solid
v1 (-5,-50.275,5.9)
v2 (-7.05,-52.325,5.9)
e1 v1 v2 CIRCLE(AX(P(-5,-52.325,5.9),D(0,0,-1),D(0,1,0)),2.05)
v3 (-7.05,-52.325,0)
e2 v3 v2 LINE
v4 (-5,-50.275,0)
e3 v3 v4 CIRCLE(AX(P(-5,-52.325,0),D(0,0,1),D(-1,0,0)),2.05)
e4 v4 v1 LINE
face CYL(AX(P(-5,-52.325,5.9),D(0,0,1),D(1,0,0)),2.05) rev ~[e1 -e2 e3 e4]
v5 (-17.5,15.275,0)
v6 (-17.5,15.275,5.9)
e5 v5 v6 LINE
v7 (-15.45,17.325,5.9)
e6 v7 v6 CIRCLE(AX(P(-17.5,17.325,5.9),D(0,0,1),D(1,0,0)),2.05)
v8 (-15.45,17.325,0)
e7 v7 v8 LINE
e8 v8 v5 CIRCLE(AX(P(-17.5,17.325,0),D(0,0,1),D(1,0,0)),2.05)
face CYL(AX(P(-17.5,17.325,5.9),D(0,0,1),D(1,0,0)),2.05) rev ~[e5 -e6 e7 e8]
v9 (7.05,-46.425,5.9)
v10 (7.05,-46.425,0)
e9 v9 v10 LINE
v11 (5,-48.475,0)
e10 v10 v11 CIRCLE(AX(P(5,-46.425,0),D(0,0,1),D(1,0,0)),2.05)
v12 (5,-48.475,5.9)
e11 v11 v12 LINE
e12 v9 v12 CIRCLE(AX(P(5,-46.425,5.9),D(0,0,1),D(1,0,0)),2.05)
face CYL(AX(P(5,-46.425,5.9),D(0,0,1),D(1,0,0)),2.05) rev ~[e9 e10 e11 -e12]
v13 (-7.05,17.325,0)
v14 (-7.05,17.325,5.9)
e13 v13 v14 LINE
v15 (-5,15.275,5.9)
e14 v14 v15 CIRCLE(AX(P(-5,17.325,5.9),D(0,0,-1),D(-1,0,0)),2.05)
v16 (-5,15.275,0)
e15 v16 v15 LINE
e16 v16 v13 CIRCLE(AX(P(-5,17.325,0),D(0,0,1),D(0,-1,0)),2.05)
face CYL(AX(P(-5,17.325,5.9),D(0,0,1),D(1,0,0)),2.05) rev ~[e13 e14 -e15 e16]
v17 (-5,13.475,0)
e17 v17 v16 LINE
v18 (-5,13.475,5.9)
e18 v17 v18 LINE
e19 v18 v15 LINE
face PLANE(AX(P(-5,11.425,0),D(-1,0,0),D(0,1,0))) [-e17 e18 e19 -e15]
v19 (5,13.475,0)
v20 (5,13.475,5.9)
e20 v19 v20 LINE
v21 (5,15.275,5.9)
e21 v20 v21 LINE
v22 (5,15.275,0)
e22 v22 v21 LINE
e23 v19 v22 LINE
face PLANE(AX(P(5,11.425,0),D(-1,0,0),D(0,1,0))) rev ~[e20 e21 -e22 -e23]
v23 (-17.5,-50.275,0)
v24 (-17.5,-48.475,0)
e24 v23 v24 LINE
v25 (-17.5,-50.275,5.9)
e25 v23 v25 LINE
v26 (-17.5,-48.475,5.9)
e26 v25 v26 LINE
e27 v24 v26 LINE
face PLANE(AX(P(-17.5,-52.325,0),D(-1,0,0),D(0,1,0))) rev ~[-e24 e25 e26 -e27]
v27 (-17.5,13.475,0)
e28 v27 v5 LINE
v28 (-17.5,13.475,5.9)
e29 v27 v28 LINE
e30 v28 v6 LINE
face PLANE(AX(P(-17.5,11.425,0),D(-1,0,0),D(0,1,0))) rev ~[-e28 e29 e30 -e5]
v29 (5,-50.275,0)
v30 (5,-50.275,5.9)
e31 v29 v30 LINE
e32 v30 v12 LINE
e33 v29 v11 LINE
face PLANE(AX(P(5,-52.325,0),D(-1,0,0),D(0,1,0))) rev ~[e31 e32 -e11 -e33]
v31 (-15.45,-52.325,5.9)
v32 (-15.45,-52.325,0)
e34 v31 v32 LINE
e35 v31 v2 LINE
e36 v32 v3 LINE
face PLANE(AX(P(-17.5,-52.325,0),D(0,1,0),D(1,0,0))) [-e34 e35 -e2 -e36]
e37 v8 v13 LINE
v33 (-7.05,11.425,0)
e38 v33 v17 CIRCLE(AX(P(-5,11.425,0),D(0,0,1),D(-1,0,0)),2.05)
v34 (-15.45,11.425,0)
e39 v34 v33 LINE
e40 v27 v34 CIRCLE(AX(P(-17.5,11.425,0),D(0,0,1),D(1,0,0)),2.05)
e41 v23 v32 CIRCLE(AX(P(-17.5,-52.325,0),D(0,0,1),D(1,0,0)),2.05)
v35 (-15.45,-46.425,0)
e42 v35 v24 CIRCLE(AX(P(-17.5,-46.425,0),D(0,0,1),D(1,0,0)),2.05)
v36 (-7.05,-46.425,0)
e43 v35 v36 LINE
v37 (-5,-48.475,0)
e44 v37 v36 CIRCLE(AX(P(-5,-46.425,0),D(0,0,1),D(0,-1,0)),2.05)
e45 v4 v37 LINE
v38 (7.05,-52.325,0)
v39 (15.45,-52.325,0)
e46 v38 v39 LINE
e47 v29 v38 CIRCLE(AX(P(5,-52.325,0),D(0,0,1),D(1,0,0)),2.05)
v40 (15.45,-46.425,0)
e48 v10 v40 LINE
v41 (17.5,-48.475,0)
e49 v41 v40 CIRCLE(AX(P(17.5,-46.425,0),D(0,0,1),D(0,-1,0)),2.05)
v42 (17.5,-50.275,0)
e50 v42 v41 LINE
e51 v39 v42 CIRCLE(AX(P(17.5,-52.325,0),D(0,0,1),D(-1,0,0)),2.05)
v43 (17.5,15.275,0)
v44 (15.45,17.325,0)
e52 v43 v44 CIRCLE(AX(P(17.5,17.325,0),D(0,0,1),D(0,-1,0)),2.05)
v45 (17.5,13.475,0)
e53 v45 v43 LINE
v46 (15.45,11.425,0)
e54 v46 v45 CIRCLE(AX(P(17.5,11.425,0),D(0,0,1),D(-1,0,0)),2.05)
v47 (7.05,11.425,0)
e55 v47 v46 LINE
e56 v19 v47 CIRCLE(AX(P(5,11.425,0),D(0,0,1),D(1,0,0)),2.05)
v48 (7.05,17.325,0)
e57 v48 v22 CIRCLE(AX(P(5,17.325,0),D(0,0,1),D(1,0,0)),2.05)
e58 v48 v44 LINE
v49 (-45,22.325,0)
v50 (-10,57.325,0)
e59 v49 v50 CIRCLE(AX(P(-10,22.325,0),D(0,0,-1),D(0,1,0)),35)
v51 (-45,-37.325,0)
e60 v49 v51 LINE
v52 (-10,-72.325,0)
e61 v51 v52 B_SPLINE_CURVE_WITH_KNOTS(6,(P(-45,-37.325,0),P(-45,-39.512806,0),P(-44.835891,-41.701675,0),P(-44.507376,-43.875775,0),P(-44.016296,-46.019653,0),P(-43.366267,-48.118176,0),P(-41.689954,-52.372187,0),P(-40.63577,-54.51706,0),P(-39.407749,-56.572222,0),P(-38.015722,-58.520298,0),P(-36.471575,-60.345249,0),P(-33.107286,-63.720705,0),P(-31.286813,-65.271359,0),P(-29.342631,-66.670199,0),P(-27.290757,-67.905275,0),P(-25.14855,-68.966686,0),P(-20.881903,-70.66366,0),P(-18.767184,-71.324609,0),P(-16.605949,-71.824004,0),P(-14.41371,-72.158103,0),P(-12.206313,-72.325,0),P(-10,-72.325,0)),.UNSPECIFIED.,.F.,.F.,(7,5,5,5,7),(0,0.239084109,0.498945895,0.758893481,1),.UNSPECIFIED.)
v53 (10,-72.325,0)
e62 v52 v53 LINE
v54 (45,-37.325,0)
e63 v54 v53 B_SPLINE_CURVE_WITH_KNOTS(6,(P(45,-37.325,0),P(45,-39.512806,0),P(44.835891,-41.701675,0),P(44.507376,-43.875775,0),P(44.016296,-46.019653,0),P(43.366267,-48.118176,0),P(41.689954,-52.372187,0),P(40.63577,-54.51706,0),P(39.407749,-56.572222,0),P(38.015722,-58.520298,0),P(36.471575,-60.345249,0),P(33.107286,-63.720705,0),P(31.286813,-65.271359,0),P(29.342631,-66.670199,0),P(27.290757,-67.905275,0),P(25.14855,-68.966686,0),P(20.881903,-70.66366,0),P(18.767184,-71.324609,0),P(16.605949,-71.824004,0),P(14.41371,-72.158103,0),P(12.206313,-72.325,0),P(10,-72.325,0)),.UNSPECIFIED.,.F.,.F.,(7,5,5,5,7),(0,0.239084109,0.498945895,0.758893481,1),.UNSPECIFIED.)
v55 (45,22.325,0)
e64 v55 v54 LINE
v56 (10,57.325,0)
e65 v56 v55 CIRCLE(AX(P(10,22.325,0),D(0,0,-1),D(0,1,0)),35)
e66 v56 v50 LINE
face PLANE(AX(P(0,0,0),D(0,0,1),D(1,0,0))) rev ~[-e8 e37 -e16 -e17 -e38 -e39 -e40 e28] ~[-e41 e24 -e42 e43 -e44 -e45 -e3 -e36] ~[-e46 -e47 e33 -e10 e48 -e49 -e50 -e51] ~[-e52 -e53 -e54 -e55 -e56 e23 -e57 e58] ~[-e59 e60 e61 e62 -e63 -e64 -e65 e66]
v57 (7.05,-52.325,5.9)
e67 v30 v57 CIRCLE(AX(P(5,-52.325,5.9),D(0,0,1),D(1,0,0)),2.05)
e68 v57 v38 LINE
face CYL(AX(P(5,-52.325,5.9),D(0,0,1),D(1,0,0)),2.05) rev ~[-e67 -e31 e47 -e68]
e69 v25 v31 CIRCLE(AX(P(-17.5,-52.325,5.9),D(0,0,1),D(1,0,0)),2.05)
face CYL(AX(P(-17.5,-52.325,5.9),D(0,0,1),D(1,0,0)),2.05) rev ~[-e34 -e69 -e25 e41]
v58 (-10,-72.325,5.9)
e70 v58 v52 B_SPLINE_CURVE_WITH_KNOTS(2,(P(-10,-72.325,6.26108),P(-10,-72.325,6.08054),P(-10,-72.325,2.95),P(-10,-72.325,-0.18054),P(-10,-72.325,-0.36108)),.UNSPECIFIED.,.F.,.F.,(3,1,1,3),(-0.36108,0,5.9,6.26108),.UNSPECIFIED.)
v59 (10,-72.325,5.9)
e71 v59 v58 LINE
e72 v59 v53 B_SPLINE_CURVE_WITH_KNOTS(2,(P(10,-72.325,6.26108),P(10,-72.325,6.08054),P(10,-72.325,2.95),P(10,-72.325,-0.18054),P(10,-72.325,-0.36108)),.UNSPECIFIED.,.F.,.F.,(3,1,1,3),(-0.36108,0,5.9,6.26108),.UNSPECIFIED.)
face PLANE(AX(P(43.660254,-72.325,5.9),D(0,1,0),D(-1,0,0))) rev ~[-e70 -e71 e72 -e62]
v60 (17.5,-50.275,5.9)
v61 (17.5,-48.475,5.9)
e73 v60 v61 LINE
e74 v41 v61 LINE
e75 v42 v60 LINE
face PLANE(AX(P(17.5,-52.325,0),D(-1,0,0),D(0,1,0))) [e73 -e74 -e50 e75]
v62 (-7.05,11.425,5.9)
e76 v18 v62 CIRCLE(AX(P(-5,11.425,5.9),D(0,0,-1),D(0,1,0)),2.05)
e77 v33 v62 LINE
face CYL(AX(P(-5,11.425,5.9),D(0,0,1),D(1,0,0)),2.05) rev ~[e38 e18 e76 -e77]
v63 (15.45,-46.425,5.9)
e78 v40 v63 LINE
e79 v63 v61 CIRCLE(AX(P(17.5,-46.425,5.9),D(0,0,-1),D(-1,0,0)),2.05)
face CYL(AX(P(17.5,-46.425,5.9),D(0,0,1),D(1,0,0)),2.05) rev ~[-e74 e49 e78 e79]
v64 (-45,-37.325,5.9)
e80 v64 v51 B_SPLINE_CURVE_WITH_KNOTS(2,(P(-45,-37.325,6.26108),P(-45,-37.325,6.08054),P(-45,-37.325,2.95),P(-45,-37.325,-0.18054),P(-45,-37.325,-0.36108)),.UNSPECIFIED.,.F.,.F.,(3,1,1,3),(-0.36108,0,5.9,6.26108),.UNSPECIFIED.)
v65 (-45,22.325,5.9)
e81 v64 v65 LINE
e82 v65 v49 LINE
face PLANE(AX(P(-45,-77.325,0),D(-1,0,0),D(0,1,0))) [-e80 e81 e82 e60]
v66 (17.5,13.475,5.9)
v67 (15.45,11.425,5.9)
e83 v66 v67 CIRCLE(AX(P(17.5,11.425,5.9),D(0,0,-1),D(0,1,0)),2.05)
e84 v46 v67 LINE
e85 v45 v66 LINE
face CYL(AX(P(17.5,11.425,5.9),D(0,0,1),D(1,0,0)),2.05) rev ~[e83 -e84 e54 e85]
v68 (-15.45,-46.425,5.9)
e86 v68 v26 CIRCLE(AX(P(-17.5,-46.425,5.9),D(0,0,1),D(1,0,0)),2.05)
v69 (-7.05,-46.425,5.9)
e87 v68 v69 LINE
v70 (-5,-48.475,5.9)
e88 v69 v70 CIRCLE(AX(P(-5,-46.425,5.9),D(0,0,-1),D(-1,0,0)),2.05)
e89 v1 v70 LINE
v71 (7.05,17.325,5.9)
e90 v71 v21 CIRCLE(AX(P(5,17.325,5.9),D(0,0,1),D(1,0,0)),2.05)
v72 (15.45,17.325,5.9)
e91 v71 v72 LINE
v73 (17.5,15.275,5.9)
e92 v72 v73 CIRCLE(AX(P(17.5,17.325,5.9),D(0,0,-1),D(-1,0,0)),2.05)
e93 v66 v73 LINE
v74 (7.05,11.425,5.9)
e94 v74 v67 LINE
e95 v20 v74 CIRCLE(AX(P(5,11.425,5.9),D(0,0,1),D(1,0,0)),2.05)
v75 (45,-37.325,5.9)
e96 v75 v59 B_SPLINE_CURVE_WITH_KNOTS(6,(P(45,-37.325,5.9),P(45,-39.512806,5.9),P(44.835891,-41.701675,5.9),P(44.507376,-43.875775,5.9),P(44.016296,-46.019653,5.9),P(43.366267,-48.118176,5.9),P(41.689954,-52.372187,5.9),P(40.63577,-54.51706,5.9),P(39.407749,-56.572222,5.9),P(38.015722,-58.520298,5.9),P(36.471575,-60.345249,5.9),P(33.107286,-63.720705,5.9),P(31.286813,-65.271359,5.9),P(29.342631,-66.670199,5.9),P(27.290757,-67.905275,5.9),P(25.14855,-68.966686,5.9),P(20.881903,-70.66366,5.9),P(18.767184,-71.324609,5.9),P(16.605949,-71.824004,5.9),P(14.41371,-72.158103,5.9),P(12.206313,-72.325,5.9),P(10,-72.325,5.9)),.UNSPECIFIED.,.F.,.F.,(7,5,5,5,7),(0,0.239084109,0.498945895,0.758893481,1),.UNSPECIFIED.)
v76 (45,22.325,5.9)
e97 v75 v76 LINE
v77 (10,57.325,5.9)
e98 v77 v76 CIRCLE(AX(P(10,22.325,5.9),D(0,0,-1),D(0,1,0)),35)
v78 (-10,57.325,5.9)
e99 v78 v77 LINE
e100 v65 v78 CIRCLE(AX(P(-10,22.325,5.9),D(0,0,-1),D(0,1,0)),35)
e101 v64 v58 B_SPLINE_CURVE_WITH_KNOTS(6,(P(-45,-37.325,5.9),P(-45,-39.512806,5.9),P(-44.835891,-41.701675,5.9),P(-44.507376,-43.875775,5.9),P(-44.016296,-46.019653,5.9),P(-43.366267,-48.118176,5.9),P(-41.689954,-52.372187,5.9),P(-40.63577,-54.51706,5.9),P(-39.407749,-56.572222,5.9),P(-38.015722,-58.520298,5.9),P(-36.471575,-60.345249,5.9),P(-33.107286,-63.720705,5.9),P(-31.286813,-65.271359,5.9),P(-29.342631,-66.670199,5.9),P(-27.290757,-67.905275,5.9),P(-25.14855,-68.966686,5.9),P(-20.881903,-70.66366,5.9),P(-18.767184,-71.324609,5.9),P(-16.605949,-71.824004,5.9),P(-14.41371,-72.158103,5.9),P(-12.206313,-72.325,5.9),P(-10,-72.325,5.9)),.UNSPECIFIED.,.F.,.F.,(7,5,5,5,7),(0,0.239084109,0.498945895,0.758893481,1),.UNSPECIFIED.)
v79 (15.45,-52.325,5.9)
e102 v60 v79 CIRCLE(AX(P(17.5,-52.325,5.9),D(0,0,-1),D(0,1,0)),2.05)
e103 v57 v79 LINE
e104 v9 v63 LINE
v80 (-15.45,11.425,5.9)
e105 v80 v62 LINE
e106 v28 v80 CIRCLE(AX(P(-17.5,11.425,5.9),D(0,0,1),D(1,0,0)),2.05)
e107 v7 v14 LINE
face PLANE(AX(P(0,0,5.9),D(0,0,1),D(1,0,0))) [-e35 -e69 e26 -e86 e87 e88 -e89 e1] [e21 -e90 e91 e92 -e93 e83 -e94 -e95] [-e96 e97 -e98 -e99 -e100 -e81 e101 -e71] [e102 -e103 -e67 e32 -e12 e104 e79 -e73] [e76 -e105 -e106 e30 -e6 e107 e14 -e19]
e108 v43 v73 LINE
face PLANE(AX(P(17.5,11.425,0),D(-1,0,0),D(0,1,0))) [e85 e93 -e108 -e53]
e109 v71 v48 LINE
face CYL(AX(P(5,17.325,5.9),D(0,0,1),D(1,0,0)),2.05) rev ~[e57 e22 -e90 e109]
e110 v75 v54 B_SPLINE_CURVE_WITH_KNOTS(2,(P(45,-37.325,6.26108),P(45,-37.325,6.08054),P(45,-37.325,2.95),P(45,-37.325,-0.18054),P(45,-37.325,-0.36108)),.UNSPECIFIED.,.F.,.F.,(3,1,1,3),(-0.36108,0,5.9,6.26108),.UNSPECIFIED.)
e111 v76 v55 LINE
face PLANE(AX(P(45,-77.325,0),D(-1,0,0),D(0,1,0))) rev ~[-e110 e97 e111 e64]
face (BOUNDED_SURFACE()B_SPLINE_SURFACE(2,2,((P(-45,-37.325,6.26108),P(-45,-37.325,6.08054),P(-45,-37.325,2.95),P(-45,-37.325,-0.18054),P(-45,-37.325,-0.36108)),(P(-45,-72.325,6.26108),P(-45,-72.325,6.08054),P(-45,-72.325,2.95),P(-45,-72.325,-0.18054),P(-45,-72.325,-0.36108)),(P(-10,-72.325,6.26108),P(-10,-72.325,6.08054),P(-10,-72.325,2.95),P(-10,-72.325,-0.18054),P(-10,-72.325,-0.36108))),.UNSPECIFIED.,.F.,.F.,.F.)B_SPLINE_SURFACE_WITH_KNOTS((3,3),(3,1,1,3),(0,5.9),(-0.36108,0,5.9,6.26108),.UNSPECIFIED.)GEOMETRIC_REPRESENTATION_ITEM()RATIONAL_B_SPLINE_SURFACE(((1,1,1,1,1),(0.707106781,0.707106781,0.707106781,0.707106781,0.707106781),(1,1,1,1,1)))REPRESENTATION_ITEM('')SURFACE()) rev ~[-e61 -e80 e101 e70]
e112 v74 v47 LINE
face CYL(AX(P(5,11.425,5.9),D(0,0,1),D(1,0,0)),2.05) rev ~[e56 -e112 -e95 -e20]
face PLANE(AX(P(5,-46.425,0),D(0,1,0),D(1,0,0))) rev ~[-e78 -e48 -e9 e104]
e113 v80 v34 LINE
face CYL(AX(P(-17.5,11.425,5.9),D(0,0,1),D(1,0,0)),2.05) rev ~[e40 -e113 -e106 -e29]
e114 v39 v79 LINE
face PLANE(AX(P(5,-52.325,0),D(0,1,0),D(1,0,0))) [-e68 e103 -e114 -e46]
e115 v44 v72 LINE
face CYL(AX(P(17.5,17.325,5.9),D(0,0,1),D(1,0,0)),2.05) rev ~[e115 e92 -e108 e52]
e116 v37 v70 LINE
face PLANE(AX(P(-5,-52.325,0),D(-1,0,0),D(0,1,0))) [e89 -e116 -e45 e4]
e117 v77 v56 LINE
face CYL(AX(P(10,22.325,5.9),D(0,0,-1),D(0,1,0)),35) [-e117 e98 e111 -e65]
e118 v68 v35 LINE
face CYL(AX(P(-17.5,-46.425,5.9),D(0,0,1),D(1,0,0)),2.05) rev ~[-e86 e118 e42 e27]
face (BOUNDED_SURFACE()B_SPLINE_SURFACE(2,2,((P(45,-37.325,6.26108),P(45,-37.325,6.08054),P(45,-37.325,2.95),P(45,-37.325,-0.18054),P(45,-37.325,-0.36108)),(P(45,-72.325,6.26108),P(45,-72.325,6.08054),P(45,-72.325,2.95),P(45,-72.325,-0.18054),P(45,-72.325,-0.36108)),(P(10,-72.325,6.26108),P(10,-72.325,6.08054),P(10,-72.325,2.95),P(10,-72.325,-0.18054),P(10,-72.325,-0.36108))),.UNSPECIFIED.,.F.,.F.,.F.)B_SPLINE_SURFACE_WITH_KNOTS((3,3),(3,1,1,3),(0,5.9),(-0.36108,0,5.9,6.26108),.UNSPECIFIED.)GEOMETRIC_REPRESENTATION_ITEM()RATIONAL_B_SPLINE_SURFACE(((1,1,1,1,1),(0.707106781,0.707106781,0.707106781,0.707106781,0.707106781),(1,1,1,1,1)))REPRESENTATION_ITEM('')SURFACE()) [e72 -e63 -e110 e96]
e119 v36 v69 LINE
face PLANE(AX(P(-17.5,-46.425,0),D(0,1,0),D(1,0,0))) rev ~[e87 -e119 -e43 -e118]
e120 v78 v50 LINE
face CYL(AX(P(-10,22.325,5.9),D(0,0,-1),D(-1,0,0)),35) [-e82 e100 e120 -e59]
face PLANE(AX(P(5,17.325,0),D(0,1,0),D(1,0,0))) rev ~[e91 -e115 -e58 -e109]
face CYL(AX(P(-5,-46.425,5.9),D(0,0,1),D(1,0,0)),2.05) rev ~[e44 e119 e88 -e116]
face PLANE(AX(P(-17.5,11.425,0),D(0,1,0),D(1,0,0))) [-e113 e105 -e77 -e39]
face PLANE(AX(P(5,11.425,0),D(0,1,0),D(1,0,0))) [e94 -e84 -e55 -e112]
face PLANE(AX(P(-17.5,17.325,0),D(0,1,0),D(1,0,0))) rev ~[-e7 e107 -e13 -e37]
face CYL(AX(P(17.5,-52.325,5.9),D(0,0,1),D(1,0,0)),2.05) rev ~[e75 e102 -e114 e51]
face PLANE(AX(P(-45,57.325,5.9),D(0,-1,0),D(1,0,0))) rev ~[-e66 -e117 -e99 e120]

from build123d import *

# Parameters (mm, degrees)
SKETCH1_W           = 90
SKETCH1_H           = 154.65
SKETCH1_W_2         = 12.5
SKETCH1_H_2         = 5.9
BOSS_EXTRUDE1_DEPTH = 5.9
FILLET2_R           = 10
BOSS_EXTRUDE2_DEPTH = 5.9
CUT_EXTRUDE1_REACH  = 7.9
SKETCH5_R           = 2.05
CUT_EXTRUDE4_REACH  = 7.9
FILLET3_R           = 35


with BuildPart() as part:
    # Sketch1 → Boss-Extrude1 (new body)
    with BuildSketch(Plane.XY):
        Rectangle(SKETCH1_W, SKETCH1_H)
        with Locations((-11.25, 14.375)):
            Rectangle(SKETCH1_W_2, SKETCH1_H_2, mode=Mode.SUBTRACT)
        with Locations((11.25, 14.375)):
            Rectangle(SKETCH1_W_2, SKETCH1_H_2, mode=Mode.SUBTRACT)
        with Locations((11.25, -49.375)):
            Rectangle(SKETCH1_W_2, SKETCH1_H_2, mode=Mode.SUBTRACT)
        with Locations((-11.25, -49.375)):
            Rectangle(SKETCH1_W_2, SKETCH1_H_2, mode=Mode.SUBTRACT)
    extrude(amount=BOSS_EXTRUDE1_DEPTH)

    # Fillet2
    fillet2_edges = [part.edges().sort_by_distance(p)[0] for p in [
        (45, -77.325, 2.95),
        (-45, -77.325, 2.95),
        (-45, 77.325, 2.95),
        (45, 77.325, 2.95),
    ]]
    fillet(fillet2_edges, radius=FILLET2_R)

    # Sketch2 → Boss-Extrude2 (add)
    with BuildSketch(Plane.XY.offset(5.9)):
        Polygon((24.6, -77.325), (-24.6, -77.325), (-10, -90.939292058), (-10, -103.239292058), (-4.5, -119.325), (4.5, -119.325), (10, -103.239292058), (10, -90.939292058), align=None)
        with BuildLine():
            Line((-45, 67.325), (-45, 53.482347581))
            Line((-45, 53.482347581), (0, 77.325))
            ThreePointArc((0, 77.325), (-4.9039074, 78.609973195), (-8.547536888, 82.134661558))
            Line((-8.547536888, 82.134661558), (-15.653395136, 93.836708769))
            Line((-15.653395136, 93.836708769), (-36.605205168, 117.74389141))
            Line((-36.605205168, 117.74389141), (-44.297988367, 113.072586812))
            Line((-44.297988367, 113.072586812), (-38.587949383, 93.072586812))
            Line((-38.587949383, 93.072586812), (-31.970396029, 80.241759725))
            ThreePointArc((-31.970396029, 80.241759725), (-32.040056415, 78.284211705), (-33.747908787, 77.325))
            Line((-33.747908787, 77.325), (-35, 77.325))
            ThreePointArc((-35, 77.325), (-42.071067812, 74.396067812), (-45, 67.325))
        make_face()
        with BuildLine():
            ThreePointArc((8.547536888, 82.134661558), (4.9039074, 78.609973195), (0, 77.325))
            Line((0, 77.325), (45, 53.482347581))
            Line((45, 53.482347581), (45, 67.325))
            ThreePointArc((45, 67.325), (42.071067812, 74.396067812), (35, 77.325))
            Line((35, 77.325), (33.747908787, 77.325))
            ThreePointArc((33.747908787, 77.325), (32.040056415, 78.284211705), (31.970396029, 80.241759725))
            Line((31.970396029, 80.241759725), (38.587949383, 93.072586812))
            Line((38.587949383, 93.072586812), (44.297988367, 113.072586812))
            Line((44.297988367, 113.072586812), (36.605205168, 117.74389141))
            Line((36.605205168, 117.74389141), (15.653395136, 93.836708769))
            Line((15.653395136, 93.836708769), (8.547536888, 82.134661558))
        make_face()
    extrude(amount=-BOSS_EXTRUDE2_DEPTH)

    # Sketch5 → Cut-Extrude1 (cut, up to next)
    with BuildSketch(Plane.XY.offset(5.9), mode=Mode.PRIVATE) as cut_extrude1_sk1:
        with Locations((-17.5, 11.425)):
            Circle(SKETCH5_R)
    cut_extrude1_tool1 = extrude(cut_extrude1_sk1.sketch, amount=-CUT_EXTRUDE1_REACH, mode=Mode.PRIVATE) & part.part
    add(cut_extrude1_tool1.solids().sort_by_distance((-17.5, 11.425, 5.9))[0], mode=Mode.SUBTRACT)
    # Sketch5 → Cut-Extrude1 (cut, up to next)
    with BuildSketch(Plane.XY.offset(5.9), mode=Mode.PRIVATE) as cut_extrude1_sk2:
        with Locations((-5, 11.425)):
            Circle(SKETCH5_R)
    cut_extrude1_tool2 = extrude(cut_extrude1_sk2.sketch, amount=-CUT_EXTRUDE1_REACH, mode=Mode.PRIVATE) & part.part
    add(cut_extrude1_tool2.solids().sort_by_distance((-5, 11.425, 5.9))[0], mode=Mode.SUBTRACT)
    # Sketch5 → Cut-Extrude1 (cut, up to next)
    with BuildSketch(Plane.XY.offset(5.9), mode=Mode.PRIVATE) as cut_extrude1_sk3:
        with Locations((-5, 17.325)):
            Circle(SKETCH5_R)
    cut_extrude1_tool3 = extrude(cut_extrude1_sk3.sketch, amount=-CUT_EXTRUDE1_REACH, mode=Mode.PRIVATE) & part.part
    add(cut_extrude1_tool3.solids().sort_by_distance((-5, 17.325, 5.9))[0], mode=Mode.SUBTRACT)
    # Sketch5 → Cut-Extrude1 (cut, up to next)
    with BuildSketch(Plane.XY.offset(5.9), mode=Mode.PRIVATE) as cut_extrude1_sk4:
        with Locations((-17.5, 17.325)):
            Circle(SKETCH5_R)
    cut_extrude1_tool4 = extrude(cut_extrude1_sk4.sketch, amount=-CUT_EXTRUDE1_REACH, mode=Mode.PRIVATE) & part.part
    add(cut_extrude1_tool4.solids().sort_by_distance((-17.5, 17.325, 5.9))[0], mode=Mode.SUBTRACT)
    # Sketch5 → Cut-Extrude1 (cut, up to next)
    with BuildSketch(Plane.XY.offset(5.9), mode=Mode.PRIVATE) as cut_extrude1_sk5:
        with Locations((17.5, 11.425)):
            Circle(SKETCH5_R)
    cut_extrude1_tool5 = extrude(cut_extrude1_sk5.sketch, amount=-CUT_EXTRUDE1_REACH, mode=Mode.PRIVATE) & part.part
    add(cut_extrude1_tool5.solids().sort_by_distance((17.5, 11.425, 5.9))[0], mode=Mode.SUBTRACT)
    # Sketch5 → Cut-Extrude1 (cut, up to next)
    with BuildSketch(Plane.XY.offset(5.9), mode=Mode.PRIVATE) as cut_extrude1_sk6:
        with Locations((17.5, 17.325)):
            Circle(SKETCH5_R)
    cut_extrude1_tool6 = extrude(cut_extrude1_sk6.sketch, amount=-CUT_EXTRUDE1_REACH, mode=Mode.PRIVATE) & part.part
    add(cut_extrude1_tool6.solids().sort_by_distance((17.5, 17.325, 5.9))[0], mode=Mode.SUBTRACT)
    # Sketch5 → Cut-Extrude1 (cut, up to next)
    with BuildSketch(Plane.XY.offset(5.9), mode=Mode.PRIVATE) as cut_extrude1_sk7:
        with Locations((5, 17.325)):
            Circle(SKETCH5_R)
    cut_extrude1_tool7 = extrude(cut_extrude1_sk7.sketch, amount=-CUT_EXTRUDE1_REACH, mode=Mode.PRIVATE) & part.part
    add(cut_extrude1_tool7.solids().sort_by_distance((5, 17.325, 5.9))[0], mode=Mode.SUBTRACT)
    # Sketch5 → Cut-Extrude1 (cut, up to next)
    with BuildSketch(Plane.XY.offset(5.9), mode=Mode.PRIVATE) as cut_extrude1_sk8:
        with Locations((5, 11.425)):
            Circle(SKETCH5_R)
    cut_extrude1_tool8 = extrude(cut_extrude1_sk8.sketch, amount=-CUT_EXTRUDE1_REACH, mode=Mode.PRIVATE) & part.part
    add(cut_extrude1_tool8.solids().sort_by_distance((5, 11.425, 5.9))[0], mode=Mode.SUBTRACT)
    # Sketch5 → Cut-Extrude1 (cut, up to next)
    with BuildSketch(Plane.XY.offset(5.9), mode=Mode.PRIVATE) as cut_extrude1_sk9:
        with Locations((5, -52.325)):
            Circle(SKETCH5_R)
    cut_extrude1_tool9 = extrude(cut_extrude1_sk9.sketch, amount=-CUT_EXTRUDE1_REACH, mode=Mode.PRIVATE) & part.part
    add(cut_extrude1_tool9.solids().sort_by_distance((5, -52.325, 5.9))[0], mode=Mode.SUBTRACT)
    # Sketch5 → Cut-Extrude1 (cut, up to next)
    with BuildSketch(Plane.XY.offset(5.9), mode=Mode.PRIVATE) as cut_extrude1_sk10:
        with Locations((17.5, -52.325)):
            Circle(SKETCH5_R)
    cut_extrude1_tool10 = extrude(cut_extrude1_sk10.sketch, amount=-CUT_EXTRUDE1_REACH, mode=Mode.PRIVATE) & part.part
    add(cut_extrude1_tool10.solids().sort_by_distance((17.5, -52.325, 5.9))[0], mode=Mode.SUBTRACT)
    # Sketch5 → Cut-Extrude1 (cut, up to next)
    with BuildSketch(Plane.XY.offset(5.9), mode=Mode.PRIVATE) as cut_extrude1_sk11:
        with Locations((17.5, -46.425)):
            Circle(SKETCH5_R)
    cut_extrude1_tool11 = extrude(cut_extrude1_sk11.sketch, amount=-CUT_EXTRUDE1_REACH, mode=Mode.PRIVATE) & part.part
    add(cut_extrude1_tool11.solids().sort_by_distance((17.5, -46.425, 5.9))[0], mode=Mode.SUBTRACT)
    # Sketch5 → Cut-Extrude1 (cut, up to next)
    with BuildSketch(Plane.XY.offset(5.9), mode=Mode.PRIVATE) as cut_extrude1_sk12:
        with Locations((5, -46.425)):
            Circle(SKETCH5_R)
    cut_extrude1_tool12 = extrude(cut_extrude1_sk12.sketch, amount=-CUT_EXTRUDE1_REACH, mode=Mode.PRIVATE) & part.part
    add(cut_extrude1_tool12.solids().sort_by_distance((5, -46.425, 5.9))[0], mode=Mode.SUBTRACT)
    # Sketch5 → Cut-Extrude1 (cut, up to next)
    with BuildSketch(Plane.XY.offset(5.9), mode=Mode.PRIVATE) as cut_extrude1_sk13:
        with Locations((-5, -46.425)):
            Circle(SKETCH5_R)
    cut_extrude1_tool13 = extrude(cut_extrude1_sk13.sketch, amount=-CUT_EXTRUDE1_REACH, mode=Mode.PRIVATE) & part.part
    add(cut_extrude1_tool13.solids().sort_by_distance((-5, -46.425, 5.9))[0], mode=Mode.SUBTRACT)
    # Sketch5 → Cut-Extrude1 (cut, up to next)
    with BuildSketch(Plane.XY.offset(5.9), mode=Mode.PRIVATE) as cut_extrude1_sk14:
        with Locations((-5, -52.325)):
            Circle(SKETCH5_R)
    cut_extrude1_tool14 = extrude(cut_extrude1_sk14.sketch, amount=-CUT_EXTRUDE1_REACH, mode=Mode.PRIVATE) & part.part
    add(cut_extrude1_tool14.solids().sort_by_distance((-5, -52.325, 5.9))[0], mode=Mode.SUBTRACT)
    # Sketch5 → Cut-Extrude1 (cut, up to next)
    with BuildSketch(Plane.XY.offset(5.9), mode=Mode.PRIVATE) as cut_extrude1_sk15:
        with Locations((-17.5, -52.325)):
            Circle(SKETCH5_R)
    cut_extrude1_tool15 = extrude(cut_extrude1_sk15.sketch, amount=-CUT_EXTRUDE1_REACH, mode=Mode.PRIVATE) & part.part
    add(cut_extrude1_tool15.solids().sort_by_distance((-17.5, -52.325, 5.9))[0], mode=Mode.SUBTRACT)
    # Sketch5 → Cut-Extrude1 (cut, up to next)
    with BuildSketch(Plane.XY.offset(5.9), mode=Mode.PRIVATE) as cut_extrude1_sk16:
        with Locations((-17.5, -46.425)):
            Circle(SKETCH5_R)
    cut_extrude1_tool16 = extrude(cut_extrude1_sk16.sketch, amount=-CUT_EXTRUDE1_REACH, mode=Mode.PRIVATE) & part.part
    add(cut_extrude1_tool16.solids().sort_by_distance((-17.5, -46.425, 5.9))[0], mode=Mode.SUBTRACT)

    # Sketch7 → Cut-Extrude4 (cut, up to next)
    with BuildSketch(Plane.XY.offset(5.9), mode=Mode.PRIVATE) as cut_extrude4_sk1:
        with BuildLine():
            Line((-45, 67.325), (-45, 57.325))
            Line((-45, 57.325), (45, 57.325))
            Line((45, 57.325), (45, 67.325))
            ThreePointArc((45, 67.325), (42.071067812, 74.396067812), (35, 77.325))
            Line((35, 77.325), (33.747908787, 77.325))
            ThreePointArc((33.747908787, 77.325), (32.040056415, 78.284211705), (31.970396029, 80.241759725))
            Line((31.970396029, 80.241759725), (38.587949383, 93.072586812))
            Line((38.587949383, 93.072586812), (44.297988367, 113.072586812))
            Line((44.297988367, 113.072586812), (36.605205168, 117.74389141))
            Line((36.605205168, 117.74389141), (15.653395136, 93.836708769))
            Line((15.653395136, 93.836708769), (8.547536888, 82.134661558))
            ThreePointArc((8.547536888, 82.134661558), (0, 77.325), (-8.547536888, 82.134661558))
            Line((-8.547536888, 82.134661558), (-15.653395136, 93.836708769))
            Line((-15.653395136, 93.836708769), (-36.605205168, 117.74389141))
            Line((-36.605205168, 117.74389141), (-44.297988367, 113.072586812))
            Line((-44.297988367, 113.072586812), (-38.587949383, 93.072586812))
            Line((-38.587949383, 93.072586812), (-31.970396029, 80.241759725))
            ThreePointArc((-31.970396029, 80.241759725), (-32.040056415, 78.284211705), (-33.747908787, 77.325))
            Line((-33.747908787, 77.325), (-35, 77.325))
            ThreePointArc((-35, 77.325), (-42.071067812, 74.396067812), (-45, 67.325))
        make_face()
    cut_extrude4_tool1 = extrude(cut_extrude4_sk1.sketch, amount=-CUT_EXTRUDE4_REACH, mode=Mode.PRIVATE) & part.part
    add(cut_extrude4_tool1.solids().sort_by_distance((-34.373954, 76.241005, 5.9))[0], mode=Mode.SUBTRACT)
    # Sketch7 → Cut-Extrude4 (cut, up to next)
    with BuildSketch(Plane.XY.offset(5.9), mode=Mode.PRIVATE) as cut_extrude4_sk2:
        with BuildLine():
            Line((43.660254038, -72.325), (-43.660254038, -72.325))
            ThreePointArc((-43.660254038, -72.325), (-40, -75.985254038), (-35, -77.325))
            Line((-35, -77.325), (-24.6, -77.325))
            Line((-24.6, -77.325), (-10, -90.939292058))
            Line((-10, -90.939292058), (-10, -103.239292058))
            Line((-10, -103.239292058), (-4.5, -119.325))
            Line((-4.5, -119.325), (4.5, -119.325))
            Line((4.5, -119.325), (10, -103.239292058))
            Line((10, -103.239292058), (10, -90.939292058))
            Line((10, -90.939292058), (24.6, -77.325))
            Line((24.6, -77.325), (35, -77.325))
            ThreePointArc((35, -77.325), (40, -75.985254038), (43.660254038, -72.325))
        make_face()
    cut_extrude4_tool2 = extrude(cut_extrude4_sk2.sketch, amount=-CUT_EXTRUDE4_REACH, mode=Mode.PRIVATE) & part.part
    add(cut_extrude4_tool2.solids().sort_by_distance((0, -87.785653, 5.9))[0], mode=Mode.SUBTRACT)

    # Fillet3
    fillet3_edges = [part.edges().sort_by_distance(p)[0] for p in [
        (43.660254038, -72.325, 2.95),
        (-43.660254038, -72.325, 2.95),
        (45, 57.325, 2.95),
        (-45, 57.325, 2.95),
    ]]
    fillet(fillet3_edges, radius=FILLET3_R)


solid = part.part
